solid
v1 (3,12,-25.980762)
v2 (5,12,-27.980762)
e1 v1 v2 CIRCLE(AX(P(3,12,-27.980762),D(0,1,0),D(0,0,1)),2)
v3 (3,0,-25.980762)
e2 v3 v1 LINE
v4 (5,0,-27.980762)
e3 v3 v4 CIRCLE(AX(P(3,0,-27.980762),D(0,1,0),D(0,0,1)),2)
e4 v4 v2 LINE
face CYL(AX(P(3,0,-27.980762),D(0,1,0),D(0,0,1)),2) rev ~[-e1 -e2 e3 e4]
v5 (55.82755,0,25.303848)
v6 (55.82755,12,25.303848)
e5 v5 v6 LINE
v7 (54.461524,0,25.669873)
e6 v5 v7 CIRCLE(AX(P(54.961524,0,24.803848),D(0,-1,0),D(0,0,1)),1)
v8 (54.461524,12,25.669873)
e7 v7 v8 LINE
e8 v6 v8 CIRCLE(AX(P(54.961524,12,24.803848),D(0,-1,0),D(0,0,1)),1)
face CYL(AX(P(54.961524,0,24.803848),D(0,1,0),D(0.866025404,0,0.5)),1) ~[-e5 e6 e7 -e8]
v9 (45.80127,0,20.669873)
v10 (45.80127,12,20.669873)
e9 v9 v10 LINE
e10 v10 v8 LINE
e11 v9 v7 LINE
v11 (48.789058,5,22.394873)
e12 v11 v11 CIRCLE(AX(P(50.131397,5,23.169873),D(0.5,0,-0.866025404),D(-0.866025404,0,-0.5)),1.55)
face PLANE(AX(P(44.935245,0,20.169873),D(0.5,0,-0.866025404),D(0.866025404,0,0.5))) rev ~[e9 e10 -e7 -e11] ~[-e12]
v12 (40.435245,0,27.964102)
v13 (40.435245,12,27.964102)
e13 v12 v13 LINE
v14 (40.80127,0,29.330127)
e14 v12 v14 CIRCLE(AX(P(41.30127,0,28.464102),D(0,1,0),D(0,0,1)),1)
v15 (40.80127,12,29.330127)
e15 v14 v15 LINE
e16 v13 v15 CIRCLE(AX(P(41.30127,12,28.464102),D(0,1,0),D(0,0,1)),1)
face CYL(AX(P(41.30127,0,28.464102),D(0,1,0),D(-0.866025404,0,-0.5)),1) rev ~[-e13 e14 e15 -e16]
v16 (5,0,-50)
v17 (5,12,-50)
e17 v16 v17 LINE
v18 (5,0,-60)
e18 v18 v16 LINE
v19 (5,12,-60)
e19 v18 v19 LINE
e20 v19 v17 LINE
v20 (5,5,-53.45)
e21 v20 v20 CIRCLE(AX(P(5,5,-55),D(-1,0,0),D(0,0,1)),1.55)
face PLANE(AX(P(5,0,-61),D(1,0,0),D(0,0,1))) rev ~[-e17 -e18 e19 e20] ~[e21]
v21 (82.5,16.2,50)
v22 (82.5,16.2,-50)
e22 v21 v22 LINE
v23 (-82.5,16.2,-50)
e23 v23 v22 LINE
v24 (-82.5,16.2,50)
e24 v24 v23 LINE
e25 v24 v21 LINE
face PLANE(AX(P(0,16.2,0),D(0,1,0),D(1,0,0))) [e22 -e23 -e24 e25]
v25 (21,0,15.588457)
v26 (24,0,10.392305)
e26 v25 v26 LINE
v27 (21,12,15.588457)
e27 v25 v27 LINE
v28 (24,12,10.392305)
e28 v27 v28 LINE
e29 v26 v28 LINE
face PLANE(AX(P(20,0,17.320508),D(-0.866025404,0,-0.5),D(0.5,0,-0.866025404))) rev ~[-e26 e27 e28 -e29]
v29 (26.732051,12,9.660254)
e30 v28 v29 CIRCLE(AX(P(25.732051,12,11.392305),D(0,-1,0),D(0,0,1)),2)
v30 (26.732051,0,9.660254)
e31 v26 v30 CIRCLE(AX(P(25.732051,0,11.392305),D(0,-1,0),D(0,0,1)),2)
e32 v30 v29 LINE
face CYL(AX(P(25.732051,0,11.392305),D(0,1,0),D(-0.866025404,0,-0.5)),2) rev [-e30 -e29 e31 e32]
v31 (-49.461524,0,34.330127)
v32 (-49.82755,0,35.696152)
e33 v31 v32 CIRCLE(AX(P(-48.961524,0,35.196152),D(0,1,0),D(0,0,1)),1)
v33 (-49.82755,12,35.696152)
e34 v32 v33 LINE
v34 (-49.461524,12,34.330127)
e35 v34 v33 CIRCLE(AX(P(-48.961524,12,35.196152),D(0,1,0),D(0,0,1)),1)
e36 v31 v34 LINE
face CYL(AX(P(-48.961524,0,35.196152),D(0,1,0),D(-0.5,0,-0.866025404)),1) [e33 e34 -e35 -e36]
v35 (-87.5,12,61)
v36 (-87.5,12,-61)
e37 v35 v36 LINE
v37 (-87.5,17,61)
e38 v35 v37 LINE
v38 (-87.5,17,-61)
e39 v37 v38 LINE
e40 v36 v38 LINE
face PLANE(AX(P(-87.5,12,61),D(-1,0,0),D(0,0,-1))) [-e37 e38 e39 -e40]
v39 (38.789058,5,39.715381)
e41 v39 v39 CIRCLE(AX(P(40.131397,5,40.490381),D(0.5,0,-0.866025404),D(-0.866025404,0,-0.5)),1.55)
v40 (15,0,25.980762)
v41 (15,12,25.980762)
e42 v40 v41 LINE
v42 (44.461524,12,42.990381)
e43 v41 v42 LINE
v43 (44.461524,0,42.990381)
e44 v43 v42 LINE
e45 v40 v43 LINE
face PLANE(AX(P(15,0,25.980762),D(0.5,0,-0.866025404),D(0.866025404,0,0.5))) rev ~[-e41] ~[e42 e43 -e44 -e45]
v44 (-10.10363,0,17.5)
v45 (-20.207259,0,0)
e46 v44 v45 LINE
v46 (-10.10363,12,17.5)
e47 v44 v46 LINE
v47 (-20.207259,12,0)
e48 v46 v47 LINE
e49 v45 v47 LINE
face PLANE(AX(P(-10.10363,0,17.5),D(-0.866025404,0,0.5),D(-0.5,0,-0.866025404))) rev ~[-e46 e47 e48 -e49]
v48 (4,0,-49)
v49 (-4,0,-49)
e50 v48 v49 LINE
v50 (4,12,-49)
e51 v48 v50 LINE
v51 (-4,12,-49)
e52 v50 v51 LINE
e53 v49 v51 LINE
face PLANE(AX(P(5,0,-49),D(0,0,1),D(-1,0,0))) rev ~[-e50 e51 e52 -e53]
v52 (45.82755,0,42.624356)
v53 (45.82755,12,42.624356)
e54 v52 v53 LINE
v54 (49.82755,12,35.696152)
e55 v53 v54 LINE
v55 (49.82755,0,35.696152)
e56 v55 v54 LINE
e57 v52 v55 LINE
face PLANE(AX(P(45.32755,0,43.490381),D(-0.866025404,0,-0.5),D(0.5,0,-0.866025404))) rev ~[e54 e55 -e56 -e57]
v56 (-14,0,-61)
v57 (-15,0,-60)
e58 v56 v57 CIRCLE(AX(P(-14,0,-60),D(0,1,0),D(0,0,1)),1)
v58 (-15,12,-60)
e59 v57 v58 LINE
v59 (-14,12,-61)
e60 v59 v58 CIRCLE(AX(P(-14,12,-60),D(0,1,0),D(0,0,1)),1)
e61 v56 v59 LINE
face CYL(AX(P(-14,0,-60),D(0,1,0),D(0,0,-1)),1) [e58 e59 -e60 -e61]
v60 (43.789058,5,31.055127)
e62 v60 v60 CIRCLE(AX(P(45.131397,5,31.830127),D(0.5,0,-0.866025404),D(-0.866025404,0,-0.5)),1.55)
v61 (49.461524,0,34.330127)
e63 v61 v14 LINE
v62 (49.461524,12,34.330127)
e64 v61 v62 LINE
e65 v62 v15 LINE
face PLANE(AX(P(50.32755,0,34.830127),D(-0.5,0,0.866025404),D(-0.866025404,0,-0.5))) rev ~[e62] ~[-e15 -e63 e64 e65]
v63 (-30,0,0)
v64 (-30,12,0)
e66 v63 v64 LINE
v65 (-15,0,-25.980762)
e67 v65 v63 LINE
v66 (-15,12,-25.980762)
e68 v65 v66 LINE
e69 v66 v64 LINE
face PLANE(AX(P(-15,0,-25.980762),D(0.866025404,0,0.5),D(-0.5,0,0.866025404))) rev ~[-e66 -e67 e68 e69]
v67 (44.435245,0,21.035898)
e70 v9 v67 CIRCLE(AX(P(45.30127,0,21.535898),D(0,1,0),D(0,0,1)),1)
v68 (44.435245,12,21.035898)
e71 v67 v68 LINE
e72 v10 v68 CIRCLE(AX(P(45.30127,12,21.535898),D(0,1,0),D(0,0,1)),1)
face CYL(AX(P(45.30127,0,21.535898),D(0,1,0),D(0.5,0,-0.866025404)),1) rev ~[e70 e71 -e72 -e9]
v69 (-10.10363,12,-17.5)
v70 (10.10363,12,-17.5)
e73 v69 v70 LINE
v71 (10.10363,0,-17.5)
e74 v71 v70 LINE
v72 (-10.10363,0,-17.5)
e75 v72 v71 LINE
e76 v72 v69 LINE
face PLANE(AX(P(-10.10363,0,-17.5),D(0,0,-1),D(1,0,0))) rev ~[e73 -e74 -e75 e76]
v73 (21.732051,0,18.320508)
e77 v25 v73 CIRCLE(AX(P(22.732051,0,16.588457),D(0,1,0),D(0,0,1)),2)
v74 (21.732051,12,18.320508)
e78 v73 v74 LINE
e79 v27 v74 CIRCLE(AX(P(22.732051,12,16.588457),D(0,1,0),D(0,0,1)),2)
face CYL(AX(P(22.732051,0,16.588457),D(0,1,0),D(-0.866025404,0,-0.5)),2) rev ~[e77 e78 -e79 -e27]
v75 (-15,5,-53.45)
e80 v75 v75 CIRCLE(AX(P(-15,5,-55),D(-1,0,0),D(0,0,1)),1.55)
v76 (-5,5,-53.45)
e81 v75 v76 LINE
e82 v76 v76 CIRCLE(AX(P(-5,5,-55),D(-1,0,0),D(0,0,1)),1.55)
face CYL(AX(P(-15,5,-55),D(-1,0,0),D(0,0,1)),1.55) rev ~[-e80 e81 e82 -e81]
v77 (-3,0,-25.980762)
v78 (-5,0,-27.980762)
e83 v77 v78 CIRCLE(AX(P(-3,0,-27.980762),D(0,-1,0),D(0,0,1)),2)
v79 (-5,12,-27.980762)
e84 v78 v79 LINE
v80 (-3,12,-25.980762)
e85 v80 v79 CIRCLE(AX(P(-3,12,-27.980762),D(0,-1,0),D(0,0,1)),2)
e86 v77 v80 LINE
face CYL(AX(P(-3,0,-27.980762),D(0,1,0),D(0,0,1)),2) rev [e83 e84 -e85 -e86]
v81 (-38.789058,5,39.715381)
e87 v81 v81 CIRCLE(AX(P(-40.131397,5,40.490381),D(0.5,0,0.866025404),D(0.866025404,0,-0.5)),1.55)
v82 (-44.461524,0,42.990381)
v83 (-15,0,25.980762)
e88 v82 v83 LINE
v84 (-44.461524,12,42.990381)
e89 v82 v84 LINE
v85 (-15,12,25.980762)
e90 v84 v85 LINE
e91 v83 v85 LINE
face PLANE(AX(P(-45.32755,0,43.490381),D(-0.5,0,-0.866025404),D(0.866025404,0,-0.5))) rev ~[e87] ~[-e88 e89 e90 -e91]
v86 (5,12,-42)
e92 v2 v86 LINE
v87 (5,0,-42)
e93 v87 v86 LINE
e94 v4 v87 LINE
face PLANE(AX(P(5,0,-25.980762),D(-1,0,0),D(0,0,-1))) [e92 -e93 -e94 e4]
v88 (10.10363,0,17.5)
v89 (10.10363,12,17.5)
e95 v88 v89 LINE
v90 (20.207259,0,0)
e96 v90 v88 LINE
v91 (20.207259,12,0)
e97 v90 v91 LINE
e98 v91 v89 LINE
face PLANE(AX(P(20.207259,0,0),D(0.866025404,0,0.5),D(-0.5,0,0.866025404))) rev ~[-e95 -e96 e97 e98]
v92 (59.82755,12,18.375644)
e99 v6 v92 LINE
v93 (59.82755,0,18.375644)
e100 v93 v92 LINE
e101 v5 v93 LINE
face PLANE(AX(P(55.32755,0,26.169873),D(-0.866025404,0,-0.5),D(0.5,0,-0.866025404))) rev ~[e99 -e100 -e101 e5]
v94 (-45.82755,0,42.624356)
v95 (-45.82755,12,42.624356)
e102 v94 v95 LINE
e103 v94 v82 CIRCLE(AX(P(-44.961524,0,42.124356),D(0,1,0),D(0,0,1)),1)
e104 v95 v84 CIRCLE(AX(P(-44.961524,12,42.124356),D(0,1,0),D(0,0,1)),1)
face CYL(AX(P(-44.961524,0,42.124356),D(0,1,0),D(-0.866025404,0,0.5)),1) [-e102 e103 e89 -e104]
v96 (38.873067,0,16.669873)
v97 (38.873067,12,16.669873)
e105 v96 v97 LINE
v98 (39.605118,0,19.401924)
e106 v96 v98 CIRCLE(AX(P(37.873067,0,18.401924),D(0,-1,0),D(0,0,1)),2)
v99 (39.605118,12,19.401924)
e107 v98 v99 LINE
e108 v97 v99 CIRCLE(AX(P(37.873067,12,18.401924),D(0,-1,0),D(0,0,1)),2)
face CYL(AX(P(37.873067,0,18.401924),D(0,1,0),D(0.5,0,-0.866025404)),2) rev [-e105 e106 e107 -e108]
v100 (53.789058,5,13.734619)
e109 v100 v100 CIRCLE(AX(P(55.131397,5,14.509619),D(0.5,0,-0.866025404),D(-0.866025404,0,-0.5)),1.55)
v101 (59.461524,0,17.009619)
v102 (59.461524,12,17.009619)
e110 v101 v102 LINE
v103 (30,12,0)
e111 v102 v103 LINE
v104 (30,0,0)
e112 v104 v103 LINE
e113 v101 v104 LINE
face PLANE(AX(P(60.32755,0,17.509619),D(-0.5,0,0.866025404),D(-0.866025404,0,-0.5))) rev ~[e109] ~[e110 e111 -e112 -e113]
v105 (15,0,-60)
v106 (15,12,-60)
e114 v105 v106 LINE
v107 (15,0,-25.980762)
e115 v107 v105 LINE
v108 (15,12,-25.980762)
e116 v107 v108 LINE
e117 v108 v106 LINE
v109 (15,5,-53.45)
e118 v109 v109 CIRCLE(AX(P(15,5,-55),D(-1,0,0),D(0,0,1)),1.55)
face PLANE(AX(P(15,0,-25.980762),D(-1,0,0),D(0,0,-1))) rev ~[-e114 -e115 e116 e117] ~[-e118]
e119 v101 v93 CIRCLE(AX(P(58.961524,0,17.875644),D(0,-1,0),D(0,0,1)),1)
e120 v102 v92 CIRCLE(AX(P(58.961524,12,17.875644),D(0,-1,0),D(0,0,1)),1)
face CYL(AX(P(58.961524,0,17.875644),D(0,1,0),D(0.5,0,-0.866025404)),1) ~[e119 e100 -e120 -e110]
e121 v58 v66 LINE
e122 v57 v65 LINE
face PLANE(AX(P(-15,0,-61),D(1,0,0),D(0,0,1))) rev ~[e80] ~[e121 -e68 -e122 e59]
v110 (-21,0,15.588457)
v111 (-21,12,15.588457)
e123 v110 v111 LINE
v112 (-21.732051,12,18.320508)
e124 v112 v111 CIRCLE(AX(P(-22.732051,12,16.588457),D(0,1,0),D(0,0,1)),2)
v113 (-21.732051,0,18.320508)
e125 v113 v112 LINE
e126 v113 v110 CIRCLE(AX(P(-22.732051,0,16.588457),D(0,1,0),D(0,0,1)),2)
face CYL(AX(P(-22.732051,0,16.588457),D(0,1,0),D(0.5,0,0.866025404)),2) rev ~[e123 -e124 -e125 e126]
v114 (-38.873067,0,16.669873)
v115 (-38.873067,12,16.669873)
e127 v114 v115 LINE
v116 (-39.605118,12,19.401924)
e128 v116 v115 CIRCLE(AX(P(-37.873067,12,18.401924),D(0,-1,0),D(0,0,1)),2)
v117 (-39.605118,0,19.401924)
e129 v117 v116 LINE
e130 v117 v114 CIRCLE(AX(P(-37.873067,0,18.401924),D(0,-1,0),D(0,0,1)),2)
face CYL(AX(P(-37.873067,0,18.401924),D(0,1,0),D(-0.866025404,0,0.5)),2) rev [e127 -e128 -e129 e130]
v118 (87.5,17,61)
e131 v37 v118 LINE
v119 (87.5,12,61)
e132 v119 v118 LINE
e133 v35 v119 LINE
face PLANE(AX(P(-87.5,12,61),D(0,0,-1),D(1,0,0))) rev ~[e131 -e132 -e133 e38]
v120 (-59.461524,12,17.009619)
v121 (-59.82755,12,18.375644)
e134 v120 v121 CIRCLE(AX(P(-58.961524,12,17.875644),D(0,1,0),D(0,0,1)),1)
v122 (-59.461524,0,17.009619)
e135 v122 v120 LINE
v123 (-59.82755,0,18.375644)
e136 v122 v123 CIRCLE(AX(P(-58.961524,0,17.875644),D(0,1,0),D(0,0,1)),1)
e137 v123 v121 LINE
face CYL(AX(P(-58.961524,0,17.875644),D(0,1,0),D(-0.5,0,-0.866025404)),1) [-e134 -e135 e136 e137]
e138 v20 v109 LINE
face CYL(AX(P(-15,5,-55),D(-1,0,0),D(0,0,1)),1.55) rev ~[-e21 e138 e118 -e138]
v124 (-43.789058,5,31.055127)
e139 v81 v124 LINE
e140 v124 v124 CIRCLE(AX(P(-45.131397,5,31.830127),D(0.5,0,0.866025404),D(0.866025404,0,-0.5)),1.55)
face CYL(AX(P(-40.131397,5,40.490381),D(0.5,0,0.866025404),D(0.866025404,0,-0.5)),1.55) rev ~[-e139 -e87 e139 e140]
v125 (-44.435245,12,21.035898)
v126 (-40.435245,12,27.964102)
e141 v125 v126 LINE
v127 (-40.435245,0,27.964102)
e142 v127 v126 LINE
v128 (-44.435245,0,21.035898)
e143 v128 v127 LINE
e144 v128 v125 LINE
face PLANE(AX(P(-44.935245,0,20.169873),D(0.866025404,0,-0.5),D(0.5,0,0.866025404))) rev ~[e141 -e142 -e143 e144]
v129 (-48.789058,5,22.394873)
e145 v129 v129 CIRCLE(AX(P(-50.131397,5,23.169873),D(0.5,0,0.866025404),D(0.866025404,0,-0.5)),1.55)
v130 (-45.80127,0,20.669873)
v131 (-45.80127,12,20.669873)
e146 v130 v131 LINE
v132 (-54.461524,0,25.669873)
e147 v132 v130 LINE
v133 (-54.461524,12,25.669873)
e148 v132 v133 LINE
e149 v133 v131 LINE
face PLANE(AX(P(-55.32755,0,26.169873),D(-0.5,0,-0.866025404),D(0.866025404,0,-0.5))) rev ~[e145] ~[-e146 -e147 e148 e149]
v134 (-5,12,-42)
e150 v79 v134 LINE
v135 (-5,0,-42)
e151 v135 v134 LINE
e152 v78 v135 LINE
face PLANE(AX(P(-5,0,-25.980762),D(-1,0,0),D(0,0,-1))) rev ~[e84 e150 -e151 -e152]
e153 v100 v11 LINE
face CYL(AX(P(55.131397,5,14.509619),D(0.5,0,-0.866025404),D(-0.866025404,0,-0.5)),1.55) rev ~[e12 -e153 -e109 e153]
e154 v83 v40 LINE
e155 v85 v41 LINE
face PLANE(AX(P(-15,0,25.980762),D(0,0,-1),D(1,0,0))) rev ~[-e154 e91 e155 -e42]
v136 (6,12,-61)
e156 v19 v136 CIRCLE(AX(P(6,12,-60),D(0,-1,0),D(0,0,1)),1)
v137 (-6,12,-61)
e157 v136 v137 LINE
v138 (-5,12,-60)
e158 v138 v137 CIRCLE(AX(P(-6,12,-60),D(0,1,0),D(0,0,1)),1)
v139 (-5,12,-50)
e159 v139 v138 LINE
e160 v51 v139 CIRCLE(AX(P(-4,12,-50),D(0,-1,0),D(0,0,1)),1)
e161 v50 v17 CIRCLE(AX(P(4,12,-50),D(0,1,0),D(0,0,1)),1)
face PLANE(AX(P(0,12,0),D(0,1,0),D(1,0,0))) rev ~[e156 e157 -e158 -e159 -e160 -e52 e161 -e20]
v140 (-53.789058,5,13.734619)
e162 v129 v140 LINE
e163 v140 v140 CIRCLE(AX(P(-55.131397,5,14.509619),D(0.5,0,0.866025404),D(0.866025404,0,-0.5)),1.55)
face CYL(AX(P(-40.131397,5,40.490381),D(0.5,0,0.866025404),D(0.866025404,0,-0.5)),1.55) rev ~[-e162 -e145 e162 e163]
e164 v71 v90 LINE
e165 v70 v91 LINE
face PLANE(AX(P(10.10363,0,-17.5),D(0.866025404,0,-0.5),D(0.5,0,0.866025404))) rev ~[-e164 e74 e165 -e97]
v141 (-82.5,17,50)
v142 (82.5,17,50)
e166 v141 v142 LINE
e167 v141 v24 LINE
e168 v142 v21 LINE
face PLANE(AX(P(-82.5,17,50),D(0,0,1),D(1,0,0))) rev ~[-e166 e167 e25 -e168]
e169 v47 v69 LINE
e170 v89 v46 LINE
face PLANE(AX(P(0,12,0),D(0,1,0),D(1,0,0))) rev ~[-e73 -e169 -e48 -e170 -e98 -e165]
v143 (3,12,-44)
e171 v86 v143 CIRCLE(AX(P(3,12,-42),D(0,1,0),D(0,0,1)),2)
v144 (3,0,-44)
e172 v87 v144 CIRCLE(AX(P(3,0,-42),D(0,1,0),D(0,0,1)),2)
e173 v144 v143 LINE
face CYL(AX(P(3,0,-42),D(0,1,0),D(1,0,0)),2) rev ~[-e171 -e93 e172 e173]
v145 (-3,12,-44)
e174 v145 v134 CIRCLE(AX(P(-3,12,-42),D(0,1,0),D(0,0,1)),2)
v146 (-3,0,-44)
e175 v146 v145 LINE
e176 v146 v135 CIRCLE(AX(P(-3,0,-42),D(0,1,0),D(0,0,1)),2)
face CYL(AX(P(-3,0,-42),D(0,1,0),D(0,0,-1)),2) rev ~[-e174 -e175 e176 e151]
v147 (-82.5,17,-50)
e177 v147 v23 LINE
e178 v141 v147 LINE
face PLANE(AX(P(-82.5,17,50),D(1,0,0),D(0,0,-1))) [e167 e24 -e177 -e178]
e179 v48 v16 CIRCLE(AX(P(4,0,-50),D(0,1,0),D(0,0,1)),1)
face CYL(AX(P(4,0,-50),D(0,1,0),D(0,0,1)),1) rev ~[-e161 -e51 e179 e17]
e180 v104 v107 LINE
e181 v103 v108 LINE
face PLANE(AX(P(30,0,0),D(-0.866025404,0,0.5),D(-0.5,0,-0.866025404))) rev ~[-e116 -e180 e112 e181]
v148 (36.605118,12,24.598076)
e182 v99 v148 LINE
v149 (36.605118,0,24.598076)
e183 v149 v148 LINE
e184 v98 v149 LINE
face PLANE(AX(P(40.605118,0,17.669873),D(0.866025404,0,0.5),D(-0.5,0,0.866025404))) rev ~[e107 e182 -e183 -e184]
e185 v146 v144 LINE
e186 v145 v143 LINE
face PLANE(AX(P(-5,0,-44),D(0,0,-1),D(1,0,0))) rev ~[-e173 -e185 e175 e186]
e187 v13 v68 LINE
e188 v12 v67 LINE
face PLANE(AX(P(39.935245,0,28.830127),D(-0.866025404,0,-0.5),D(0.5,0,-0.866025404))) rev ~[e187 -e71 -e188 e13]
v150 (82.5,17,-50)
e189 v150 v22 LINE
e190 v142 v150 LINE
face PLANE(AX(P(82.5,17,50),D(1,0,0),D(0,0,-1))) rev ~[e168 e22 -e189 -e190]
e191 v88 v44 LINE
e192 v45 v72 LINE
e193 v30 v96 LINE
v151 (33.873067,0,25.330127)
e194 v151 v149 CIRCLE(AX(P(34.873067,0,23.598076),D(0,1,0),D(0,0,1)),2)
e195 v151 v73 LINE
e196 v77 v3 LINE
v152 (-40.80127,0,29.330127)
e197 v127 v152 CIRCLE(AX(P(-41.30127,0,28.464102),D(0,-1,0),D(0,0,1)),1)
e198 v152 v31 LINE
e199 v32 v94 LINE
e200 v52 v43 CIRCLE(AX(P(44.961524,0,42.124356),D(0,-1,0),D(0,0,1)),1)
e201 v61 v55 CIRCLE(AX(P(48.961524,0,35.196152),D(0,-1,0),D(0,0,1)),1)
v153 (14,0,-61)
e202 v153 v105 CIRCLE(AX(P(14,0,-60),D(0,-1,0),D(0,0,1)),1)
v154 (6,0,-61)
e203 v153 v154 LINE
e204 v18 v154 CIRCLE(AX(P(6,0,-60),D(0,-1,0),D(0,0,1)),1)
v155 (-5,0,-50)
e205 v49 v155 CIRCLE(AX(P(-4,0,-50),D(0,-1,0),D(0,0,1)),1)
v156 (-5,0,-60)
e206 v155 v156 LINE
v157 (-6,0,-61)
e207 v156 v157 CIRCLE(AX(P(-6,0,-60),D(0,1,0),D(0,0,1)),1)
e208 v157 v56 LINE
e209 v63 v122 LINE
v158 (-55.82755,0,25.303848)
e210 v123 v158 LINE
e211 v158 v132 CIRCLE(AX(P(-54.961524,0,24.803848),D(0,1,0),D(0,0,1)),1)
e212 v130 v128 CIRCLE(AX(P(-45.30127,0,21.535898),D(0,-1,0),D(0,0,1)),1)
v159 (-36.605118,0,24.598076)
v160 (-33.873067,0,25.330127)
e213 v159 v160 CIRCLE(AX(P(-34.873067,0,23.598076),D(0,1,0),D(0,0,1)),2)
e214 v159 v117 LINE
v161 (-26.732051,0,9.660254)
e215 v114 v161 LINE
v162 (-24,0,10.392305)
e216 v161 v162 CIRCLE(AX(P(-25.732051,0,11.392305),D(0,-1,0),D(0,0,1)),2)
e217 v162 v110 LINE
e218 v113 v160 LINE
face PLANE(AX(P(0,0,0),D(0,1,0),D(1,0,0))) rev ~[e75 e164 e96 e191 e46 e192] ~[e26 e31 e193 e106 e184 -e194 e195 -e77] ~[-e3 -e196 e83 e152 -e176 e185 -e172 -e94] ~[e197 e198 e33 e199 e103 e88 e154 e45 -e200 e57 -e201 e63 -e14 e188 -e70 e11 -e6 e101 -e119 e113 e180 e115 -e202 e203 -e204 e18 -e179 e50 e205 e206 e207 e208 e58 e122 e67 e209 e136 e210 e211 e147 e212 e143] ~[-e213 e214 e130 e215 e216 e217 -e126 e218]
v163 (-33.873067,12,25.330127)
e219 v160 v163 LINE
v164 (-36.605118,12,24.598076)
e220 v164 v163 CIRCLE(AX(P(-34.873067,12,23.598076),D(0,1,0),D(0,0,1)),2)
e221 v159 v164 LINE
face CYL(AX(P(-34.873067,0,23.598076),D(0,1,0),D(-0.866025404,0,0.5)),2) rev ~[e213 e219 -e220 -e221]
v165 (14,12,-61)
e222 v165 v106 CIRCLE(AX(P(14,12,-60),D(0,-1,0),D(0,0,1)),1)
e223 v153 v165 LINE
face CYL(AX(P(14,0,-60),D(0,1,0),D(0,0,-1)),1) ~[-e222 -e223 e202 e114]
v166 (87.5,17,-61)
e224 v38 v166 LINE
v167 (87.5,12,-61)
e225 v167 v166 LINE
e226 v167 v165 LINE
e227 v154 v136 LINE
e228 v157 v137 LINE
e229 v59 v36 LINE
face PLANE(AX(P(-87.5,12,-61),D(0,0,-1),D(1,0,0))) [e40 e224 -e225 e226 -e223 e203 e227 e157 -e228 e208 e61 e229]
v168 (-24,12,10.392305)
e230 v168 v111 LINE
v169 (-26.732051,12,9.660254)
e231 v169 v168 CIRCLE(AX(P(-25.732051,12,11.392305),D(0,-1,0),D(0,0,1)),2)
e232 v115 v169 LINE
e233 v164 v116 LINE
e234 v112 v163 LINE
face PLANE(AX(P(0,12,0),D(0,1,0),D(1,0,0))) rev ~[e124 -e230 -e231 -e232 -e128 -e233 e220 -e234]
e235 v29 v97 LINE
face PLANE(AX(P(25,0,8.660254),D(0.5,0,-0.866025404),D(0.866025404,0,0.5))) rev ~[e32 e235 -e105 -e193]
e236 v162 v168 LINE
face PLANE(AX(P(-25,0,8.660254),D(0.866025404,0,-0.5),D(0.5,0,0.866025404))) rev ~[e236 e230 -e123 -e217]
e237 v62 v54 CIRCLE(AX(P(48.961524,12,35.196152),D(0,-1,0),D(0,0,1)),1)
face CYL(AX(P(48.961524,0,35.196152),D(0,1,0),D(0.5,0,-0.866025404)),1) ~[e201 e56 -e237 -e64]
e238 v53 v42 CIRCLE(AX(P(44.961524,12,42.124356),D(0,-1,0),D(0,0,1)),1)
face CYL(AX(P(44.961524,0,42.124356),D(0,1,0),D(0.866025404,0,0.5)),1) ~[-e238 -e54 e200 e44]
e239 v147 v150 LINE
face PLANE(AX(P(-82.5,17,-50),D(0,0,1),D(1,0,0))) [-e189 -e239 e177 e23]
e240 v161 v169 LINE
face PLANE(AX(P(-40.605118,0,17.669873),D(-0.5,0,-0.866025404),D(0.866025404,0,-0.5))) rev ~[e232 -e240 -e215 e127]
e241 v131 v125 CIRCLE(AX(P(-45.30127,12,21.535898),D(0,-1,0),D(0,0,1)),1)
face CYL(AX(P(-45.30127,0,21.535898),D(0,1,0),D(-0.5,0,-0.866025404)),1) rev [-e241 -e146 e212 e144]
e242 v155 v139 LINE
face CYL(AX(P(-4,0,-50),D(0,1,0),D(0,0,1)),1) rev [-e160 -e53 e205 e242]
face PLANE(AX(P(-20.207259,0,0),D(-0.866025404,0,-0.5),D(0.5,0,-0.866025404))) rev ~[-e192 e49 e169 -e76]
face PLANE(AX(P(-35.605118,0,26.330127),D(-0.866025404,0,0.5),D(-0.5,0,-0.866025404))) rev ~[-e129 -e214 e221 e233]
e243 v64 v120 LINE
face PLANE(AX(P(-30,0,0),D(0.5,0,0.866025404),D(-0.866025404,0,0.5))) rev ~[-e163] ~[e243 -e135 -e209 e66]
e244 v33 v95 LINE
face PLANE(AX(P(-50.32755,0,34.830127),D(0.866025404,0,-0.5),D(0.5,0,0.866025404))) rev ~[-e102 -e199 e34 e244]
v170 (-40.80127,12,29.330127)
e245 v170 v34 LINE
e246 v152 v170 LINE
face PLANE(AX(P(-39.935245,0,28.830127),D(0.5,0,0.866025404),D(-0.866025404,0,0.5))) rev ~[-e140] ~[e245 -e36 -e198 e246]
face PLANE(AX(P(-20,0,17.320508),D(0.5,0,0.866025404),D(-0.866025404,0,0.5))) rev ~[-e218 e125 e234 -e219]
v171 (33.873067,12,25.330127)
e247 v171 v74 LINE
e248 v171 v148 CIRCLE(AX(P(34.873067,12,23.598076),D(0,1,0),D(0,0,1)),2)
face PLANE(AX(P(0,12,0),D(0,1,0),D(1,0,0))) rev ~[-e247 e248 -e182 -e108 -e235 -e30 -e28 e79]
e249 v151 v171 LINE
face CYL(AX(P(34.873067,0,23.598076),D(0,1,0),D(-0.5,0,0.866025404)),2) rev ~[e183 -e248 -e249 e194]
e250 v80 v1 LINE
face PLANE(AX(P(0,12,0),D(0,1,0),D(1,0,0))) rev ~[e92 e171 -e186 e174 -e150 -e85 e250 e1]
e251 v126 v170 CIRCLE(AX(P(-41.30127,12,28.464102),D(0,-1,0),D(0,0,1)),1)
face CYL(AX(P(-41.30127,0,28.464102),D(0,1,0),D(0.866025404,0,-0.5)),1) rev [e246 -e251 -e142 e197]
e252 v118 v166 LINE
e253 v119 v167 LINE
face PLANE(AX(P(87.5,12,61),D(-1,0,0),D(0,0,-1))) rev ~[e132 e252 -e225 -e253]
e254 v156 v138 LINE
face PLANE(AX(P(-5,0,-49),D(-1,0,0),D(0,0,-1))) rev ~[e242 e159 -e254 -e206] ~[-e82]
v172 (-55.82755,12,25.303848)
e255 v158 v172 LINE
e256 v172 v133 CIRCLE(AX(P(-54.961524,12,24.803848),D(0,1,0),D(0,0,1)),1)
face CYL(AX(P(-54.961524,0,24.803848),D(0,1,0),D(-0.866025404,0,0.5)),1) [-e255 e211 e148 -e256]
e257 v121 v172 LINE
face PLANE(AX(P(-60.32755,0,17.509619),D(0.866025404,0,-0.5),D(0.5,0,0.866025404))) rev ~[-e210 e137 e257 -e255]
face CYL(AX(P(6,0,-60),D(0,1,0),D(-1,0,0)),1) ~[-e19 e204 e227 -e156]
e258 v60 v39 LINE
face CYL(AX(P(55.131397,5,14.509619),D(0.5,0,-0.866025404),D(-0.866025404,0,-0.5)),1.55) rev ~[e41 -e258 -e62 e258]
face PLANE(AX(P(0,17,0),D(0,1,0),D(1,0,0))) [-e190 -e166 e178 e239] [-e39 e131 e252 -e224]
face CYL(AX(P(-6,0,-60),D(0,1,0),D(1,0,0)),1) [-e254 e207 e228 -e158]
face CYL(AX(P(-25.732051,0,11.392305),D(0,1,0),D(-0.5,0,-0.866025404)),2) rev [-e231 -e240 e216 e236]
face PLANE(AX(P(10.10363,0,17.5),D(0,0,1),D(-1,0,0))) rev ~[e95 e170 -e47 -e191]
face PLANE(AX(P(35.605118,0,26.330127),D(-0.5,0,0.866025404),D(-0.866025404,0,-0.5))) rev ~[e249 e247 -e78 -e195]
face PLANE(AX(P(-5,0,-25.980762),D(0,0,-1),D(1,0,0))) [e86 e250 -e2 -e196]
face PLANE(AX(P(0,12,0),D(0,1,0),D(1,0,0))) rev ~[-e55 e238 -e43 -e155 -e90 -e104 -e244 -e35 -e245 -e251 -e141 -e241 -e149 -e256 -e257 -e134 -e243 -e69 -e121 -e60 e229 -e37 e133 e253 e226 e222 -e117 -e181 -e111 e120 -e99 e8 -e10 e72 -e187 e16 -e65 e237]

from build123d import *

# Parameters (mm, degrees)
CROQUIS1_W              = 10
CROQUIS1_H              = 18.019237886
SALIENTE_EXTRUIR1_DEPTH = 12
CORTAR_EXTRUIR1_REACH   = 99.669
CROQUIS2_R              = 1.55
CORTAR_EXTRUIR2_REACH   = 103.09
CROQUIS3_R              = 1.55
CORTAR_EXTRUIR3_REACH   = 91.077
CROQUIS4_R              = 1.55
CROQUIS6_W              = 175
CROQUIS6_H              = 122
SALIENTE_EXTRUIR7_DEPTH = 5
REDONDEO1_R             = 2
REDONDEO2_R             = 1
CROQUIS7_W              = 165
CROQUIS7_H              = 100
CORTAR_EXTRUIR4_DEPTH   = 0.8


with BuildPart() as part:
    # Croquis1 → Saliente-Extruir1 (new body)
    with BuildSketch(Plane(origin=(0, 0, 0), x_dir=(1, 0, 0), z_dir=(0, 1, 0))):
        Polygon((5, 49), (-5, 49), (-5, 61), (-15, 61), (-15, 25.980762114), (-30, 0), (-60.327549631, -17.509618943), (-55.327549631, -26.169872981), (-44.935244785, -20.169872981), (-39.935244785, -28.830127019), (-50.327549631, -34.830127019), (-45.327549631, -43.490381057), (-15, -25.980762114), (15, -25.980762114), (45.327549631, -43.490381057), (50.327549631, -34.830127019), (39.935244785, -28.830127019), (44.935244785, -20.169872981), (55.327549631, -26.169872981), (60.327549631, -17.509618943), (30, 0), (15, 25.980762114), (15, 61), (5, 61), align=None)
        Polygon((-40.605117767, -17.669872981), (-25, -8.660254038), (-20, -17.320508076), (-35.605117767, -26.330127019), align=None, mode=Mode.SUBTRACT)
        Polygon((10.103629711, 17.5), (20.207259422, 0), (10.103629711, -17.5), (-10.103629711, -17.5), (-20.207259422, 0), (-10.103629711, 17.5), align=None, mode=Mode.SUBTRACT)
        Polygon((25, -8.660254038), (40.605117767, -17.669872981), (35.605117767, -26.330127019), (20, -17.320508076), align=None, mode=Mode.SUBTRACT)
        with Locations((0, 34.990381057)):
            Rectangle(CROQUIS1_W, CROQUIS1_H, mode=Mode.SUBTRACT)
    extrude(amount=SALIENTE_EXTRUIR1_DEPTH)

    # Cortar-Extruir1: up to this face of the body (flat: up to its plane)
    cortar_extruir1_end = Plane(part.part.faces().sort_by_distance((15, 6, -43.490381057))[0])
    # Croquis2 → Cortar-Extruir1 (cut, up to the picked face)
    with BuildSketch(Plane.ZY.offset(15), mode=Mode.PRIVATE) as cortar_extruir1_sk1:
        with Locations((-55, 5)):
            Circle(CROQUIS2_R)
    cortar_extruir1_tool1 = split(extrude(cortar_extruir1_sk1.sketch, amount=-CORTAR_EXTRUIR1_REACH, mode=Mode.PRIVATE), bisect_by=cortar_extruir1_end, keep=Keep.BOTH, mode=Mode.PRIVATE)
    add(cortar_extruir1_tool1.solids().sort_by(Axis((-15, 5, -55), (1, 0, 0)))[0], mode=Mode.SUBTRACT)

    # Cortar-Extruir2: up to this face of the body (flat: up to its plane)
    cortar_extruir2_end = Plane(part.part.faces().sort_by_distance((-45.163774815, 6, 8.754809472))[0])
    # Croquis3 → Cortar-Extruir2 (cut, up to the picked face)
    with BuildSketch(Plane(origin=(7.5, 0, 12.990381057), x_dir=(0.8660254037844382, 0, -0.5000000000000007), z_dir=(0.5000000000000008, 0, 0.8660254037844383)), mode=Mode.PRIVATE) as cortar_extruir2_sk1:
        with Locations((-55, 5)):
            Circle(CROQUIS3_R)
    cortar_extruir2_tool1 = split(extrude(cortar_extruir2_sk1.sketch, amount=-CORTAR_EXTRUIR2_REACH, mode=Mode.PRIVATE), bisect_by=cortar_extruir2_end, keep=Keep.BOTH, mode=Mode.PRIVATE)
    add(cortar_extruir2_tool1.solids().sort_by(Axis((-40.131397, 5, 40.490381), (-0.5000000000000008, 0, -0.8660254037844383)))[0], mode=Mode.SUBTRACT)

    # Cortar-Extruir3: up to this face of the body (flat: up to its plane)
    cortar_extruir3_end = Plane(part.part.faces().sort_by_distance((30.163774815, 6, 34.735571585))[0])
    # Croquis4 → Cortar-Extruir3 (cut, up to the picked face)
    with BuildSketch(Plane(origin=(7.5, 0, -12.990381057), x_dir=(-0.8660254037844407, 0, -0.4999999999999965), z_dir=(0.49999999999999656, 0, -0.8660254037844407)), mode=Mode.PRIVATE) as cortar_extruir3_sk1:
        with Locations((-55, 5)):
            Circle(CROQUIS4_R)
    cortar_extruir3_tool1 = split(extrude(cortar_extruir3_sk1.sketch, amount=-CORTAR_EXTRUIR3_REACH, mode=Mode.PRIVATE), bisect_by=cortar_extruir3_end, keep=Keep.BOTH, mode=Mode.PRIVATE)
    add(cortar_extruir3_tool1.solids().sort_by(Axis((55.131397, 5, 14.509619), (-0.49999999999999656, 0, 0.8660254037844407)))[0], mode=Mode.SUBTRACT)

    # Croquis6 → Saliente-Extruir7 (add)
    with BuildSketch(Plane(origin=(0, 12, 0), x_dir=(1, 0, 0), z_dir=(0, 1, 0))):
        Rectangle(CROQUIS6_W, CROQUIS6_H)
    extrude(amount=SALIENTE_EXTRUIR7_DEPTH)

    # Redondeo1
    redondeo1_edges = [part.edges().sort_by_distance(p)[0] for p in [
        (35.605117767, 6, 26.330127019),
        (40.605117767, 6, 17.669872981),
        (25, 6, 8.660254038),
        (20, 6, 17.320508076),
        (-35.605117767, 6, 26.330127019),
        (-20, 6, 17.320508076),
        (-25, 6, 8.660254038),
        (-40.605117767, 6, 17.669872981),
        (-5, 6, -25.980762114),
        (5, 6, -25.980762114),
        (5, 6, -44),
        (-5, 6, -44),
    ]]
    fillet(redondeo1_edges, radius=REDONDEO1_R)

    # Redondeo2
    redondeo2_edges = [part.edges().sort_by_distance(p)[0] for p in [
        (-15, 6, -61),
        (-5, 6, -61),
        (-5, 6, -49),
        (5, 6, -49),
        (5, 6, -61),
        (15, 6, -61),
        (60.327549631, 6, 17.509618943),
        (55.327549631, 6, 26.169872981),
        (44.935244785, 6, 20.169872981),
        (39.935244785, 6, 28.830127019),
        (50.327549631, 6, 34.830127019),
        (45.327549631, 6, 43.490381057),
        (-45.327549631, 6, 43.490381057),
        (-50.327549631, 6, 34.830127019),
        (-39.935244785, 6, 28.830127019),
        (-44.935244785, 6, 20.169872981),
        (-55.327549631, 6, 26.169872981),
        (-60.327549631, 6, 17.509618943),
    ]]
    fillet(redondeo2_edges, radius=REDONDEO2_R)

    # Croquis7 → Cortar-Extruir4 (cut)
    with BuildSketch(Plane(origin=(0, 17, 0), x_dir=(1, 0, 0), z_dir=(0, 1, 0))):
        Rectangle(CROQUIS7_W, CROQUIS7_H)
    extrude(amount=-CORTAR_EXTRUIR4_DEPTH, mode=Mode.SUBTRACT)


solid = part.part
